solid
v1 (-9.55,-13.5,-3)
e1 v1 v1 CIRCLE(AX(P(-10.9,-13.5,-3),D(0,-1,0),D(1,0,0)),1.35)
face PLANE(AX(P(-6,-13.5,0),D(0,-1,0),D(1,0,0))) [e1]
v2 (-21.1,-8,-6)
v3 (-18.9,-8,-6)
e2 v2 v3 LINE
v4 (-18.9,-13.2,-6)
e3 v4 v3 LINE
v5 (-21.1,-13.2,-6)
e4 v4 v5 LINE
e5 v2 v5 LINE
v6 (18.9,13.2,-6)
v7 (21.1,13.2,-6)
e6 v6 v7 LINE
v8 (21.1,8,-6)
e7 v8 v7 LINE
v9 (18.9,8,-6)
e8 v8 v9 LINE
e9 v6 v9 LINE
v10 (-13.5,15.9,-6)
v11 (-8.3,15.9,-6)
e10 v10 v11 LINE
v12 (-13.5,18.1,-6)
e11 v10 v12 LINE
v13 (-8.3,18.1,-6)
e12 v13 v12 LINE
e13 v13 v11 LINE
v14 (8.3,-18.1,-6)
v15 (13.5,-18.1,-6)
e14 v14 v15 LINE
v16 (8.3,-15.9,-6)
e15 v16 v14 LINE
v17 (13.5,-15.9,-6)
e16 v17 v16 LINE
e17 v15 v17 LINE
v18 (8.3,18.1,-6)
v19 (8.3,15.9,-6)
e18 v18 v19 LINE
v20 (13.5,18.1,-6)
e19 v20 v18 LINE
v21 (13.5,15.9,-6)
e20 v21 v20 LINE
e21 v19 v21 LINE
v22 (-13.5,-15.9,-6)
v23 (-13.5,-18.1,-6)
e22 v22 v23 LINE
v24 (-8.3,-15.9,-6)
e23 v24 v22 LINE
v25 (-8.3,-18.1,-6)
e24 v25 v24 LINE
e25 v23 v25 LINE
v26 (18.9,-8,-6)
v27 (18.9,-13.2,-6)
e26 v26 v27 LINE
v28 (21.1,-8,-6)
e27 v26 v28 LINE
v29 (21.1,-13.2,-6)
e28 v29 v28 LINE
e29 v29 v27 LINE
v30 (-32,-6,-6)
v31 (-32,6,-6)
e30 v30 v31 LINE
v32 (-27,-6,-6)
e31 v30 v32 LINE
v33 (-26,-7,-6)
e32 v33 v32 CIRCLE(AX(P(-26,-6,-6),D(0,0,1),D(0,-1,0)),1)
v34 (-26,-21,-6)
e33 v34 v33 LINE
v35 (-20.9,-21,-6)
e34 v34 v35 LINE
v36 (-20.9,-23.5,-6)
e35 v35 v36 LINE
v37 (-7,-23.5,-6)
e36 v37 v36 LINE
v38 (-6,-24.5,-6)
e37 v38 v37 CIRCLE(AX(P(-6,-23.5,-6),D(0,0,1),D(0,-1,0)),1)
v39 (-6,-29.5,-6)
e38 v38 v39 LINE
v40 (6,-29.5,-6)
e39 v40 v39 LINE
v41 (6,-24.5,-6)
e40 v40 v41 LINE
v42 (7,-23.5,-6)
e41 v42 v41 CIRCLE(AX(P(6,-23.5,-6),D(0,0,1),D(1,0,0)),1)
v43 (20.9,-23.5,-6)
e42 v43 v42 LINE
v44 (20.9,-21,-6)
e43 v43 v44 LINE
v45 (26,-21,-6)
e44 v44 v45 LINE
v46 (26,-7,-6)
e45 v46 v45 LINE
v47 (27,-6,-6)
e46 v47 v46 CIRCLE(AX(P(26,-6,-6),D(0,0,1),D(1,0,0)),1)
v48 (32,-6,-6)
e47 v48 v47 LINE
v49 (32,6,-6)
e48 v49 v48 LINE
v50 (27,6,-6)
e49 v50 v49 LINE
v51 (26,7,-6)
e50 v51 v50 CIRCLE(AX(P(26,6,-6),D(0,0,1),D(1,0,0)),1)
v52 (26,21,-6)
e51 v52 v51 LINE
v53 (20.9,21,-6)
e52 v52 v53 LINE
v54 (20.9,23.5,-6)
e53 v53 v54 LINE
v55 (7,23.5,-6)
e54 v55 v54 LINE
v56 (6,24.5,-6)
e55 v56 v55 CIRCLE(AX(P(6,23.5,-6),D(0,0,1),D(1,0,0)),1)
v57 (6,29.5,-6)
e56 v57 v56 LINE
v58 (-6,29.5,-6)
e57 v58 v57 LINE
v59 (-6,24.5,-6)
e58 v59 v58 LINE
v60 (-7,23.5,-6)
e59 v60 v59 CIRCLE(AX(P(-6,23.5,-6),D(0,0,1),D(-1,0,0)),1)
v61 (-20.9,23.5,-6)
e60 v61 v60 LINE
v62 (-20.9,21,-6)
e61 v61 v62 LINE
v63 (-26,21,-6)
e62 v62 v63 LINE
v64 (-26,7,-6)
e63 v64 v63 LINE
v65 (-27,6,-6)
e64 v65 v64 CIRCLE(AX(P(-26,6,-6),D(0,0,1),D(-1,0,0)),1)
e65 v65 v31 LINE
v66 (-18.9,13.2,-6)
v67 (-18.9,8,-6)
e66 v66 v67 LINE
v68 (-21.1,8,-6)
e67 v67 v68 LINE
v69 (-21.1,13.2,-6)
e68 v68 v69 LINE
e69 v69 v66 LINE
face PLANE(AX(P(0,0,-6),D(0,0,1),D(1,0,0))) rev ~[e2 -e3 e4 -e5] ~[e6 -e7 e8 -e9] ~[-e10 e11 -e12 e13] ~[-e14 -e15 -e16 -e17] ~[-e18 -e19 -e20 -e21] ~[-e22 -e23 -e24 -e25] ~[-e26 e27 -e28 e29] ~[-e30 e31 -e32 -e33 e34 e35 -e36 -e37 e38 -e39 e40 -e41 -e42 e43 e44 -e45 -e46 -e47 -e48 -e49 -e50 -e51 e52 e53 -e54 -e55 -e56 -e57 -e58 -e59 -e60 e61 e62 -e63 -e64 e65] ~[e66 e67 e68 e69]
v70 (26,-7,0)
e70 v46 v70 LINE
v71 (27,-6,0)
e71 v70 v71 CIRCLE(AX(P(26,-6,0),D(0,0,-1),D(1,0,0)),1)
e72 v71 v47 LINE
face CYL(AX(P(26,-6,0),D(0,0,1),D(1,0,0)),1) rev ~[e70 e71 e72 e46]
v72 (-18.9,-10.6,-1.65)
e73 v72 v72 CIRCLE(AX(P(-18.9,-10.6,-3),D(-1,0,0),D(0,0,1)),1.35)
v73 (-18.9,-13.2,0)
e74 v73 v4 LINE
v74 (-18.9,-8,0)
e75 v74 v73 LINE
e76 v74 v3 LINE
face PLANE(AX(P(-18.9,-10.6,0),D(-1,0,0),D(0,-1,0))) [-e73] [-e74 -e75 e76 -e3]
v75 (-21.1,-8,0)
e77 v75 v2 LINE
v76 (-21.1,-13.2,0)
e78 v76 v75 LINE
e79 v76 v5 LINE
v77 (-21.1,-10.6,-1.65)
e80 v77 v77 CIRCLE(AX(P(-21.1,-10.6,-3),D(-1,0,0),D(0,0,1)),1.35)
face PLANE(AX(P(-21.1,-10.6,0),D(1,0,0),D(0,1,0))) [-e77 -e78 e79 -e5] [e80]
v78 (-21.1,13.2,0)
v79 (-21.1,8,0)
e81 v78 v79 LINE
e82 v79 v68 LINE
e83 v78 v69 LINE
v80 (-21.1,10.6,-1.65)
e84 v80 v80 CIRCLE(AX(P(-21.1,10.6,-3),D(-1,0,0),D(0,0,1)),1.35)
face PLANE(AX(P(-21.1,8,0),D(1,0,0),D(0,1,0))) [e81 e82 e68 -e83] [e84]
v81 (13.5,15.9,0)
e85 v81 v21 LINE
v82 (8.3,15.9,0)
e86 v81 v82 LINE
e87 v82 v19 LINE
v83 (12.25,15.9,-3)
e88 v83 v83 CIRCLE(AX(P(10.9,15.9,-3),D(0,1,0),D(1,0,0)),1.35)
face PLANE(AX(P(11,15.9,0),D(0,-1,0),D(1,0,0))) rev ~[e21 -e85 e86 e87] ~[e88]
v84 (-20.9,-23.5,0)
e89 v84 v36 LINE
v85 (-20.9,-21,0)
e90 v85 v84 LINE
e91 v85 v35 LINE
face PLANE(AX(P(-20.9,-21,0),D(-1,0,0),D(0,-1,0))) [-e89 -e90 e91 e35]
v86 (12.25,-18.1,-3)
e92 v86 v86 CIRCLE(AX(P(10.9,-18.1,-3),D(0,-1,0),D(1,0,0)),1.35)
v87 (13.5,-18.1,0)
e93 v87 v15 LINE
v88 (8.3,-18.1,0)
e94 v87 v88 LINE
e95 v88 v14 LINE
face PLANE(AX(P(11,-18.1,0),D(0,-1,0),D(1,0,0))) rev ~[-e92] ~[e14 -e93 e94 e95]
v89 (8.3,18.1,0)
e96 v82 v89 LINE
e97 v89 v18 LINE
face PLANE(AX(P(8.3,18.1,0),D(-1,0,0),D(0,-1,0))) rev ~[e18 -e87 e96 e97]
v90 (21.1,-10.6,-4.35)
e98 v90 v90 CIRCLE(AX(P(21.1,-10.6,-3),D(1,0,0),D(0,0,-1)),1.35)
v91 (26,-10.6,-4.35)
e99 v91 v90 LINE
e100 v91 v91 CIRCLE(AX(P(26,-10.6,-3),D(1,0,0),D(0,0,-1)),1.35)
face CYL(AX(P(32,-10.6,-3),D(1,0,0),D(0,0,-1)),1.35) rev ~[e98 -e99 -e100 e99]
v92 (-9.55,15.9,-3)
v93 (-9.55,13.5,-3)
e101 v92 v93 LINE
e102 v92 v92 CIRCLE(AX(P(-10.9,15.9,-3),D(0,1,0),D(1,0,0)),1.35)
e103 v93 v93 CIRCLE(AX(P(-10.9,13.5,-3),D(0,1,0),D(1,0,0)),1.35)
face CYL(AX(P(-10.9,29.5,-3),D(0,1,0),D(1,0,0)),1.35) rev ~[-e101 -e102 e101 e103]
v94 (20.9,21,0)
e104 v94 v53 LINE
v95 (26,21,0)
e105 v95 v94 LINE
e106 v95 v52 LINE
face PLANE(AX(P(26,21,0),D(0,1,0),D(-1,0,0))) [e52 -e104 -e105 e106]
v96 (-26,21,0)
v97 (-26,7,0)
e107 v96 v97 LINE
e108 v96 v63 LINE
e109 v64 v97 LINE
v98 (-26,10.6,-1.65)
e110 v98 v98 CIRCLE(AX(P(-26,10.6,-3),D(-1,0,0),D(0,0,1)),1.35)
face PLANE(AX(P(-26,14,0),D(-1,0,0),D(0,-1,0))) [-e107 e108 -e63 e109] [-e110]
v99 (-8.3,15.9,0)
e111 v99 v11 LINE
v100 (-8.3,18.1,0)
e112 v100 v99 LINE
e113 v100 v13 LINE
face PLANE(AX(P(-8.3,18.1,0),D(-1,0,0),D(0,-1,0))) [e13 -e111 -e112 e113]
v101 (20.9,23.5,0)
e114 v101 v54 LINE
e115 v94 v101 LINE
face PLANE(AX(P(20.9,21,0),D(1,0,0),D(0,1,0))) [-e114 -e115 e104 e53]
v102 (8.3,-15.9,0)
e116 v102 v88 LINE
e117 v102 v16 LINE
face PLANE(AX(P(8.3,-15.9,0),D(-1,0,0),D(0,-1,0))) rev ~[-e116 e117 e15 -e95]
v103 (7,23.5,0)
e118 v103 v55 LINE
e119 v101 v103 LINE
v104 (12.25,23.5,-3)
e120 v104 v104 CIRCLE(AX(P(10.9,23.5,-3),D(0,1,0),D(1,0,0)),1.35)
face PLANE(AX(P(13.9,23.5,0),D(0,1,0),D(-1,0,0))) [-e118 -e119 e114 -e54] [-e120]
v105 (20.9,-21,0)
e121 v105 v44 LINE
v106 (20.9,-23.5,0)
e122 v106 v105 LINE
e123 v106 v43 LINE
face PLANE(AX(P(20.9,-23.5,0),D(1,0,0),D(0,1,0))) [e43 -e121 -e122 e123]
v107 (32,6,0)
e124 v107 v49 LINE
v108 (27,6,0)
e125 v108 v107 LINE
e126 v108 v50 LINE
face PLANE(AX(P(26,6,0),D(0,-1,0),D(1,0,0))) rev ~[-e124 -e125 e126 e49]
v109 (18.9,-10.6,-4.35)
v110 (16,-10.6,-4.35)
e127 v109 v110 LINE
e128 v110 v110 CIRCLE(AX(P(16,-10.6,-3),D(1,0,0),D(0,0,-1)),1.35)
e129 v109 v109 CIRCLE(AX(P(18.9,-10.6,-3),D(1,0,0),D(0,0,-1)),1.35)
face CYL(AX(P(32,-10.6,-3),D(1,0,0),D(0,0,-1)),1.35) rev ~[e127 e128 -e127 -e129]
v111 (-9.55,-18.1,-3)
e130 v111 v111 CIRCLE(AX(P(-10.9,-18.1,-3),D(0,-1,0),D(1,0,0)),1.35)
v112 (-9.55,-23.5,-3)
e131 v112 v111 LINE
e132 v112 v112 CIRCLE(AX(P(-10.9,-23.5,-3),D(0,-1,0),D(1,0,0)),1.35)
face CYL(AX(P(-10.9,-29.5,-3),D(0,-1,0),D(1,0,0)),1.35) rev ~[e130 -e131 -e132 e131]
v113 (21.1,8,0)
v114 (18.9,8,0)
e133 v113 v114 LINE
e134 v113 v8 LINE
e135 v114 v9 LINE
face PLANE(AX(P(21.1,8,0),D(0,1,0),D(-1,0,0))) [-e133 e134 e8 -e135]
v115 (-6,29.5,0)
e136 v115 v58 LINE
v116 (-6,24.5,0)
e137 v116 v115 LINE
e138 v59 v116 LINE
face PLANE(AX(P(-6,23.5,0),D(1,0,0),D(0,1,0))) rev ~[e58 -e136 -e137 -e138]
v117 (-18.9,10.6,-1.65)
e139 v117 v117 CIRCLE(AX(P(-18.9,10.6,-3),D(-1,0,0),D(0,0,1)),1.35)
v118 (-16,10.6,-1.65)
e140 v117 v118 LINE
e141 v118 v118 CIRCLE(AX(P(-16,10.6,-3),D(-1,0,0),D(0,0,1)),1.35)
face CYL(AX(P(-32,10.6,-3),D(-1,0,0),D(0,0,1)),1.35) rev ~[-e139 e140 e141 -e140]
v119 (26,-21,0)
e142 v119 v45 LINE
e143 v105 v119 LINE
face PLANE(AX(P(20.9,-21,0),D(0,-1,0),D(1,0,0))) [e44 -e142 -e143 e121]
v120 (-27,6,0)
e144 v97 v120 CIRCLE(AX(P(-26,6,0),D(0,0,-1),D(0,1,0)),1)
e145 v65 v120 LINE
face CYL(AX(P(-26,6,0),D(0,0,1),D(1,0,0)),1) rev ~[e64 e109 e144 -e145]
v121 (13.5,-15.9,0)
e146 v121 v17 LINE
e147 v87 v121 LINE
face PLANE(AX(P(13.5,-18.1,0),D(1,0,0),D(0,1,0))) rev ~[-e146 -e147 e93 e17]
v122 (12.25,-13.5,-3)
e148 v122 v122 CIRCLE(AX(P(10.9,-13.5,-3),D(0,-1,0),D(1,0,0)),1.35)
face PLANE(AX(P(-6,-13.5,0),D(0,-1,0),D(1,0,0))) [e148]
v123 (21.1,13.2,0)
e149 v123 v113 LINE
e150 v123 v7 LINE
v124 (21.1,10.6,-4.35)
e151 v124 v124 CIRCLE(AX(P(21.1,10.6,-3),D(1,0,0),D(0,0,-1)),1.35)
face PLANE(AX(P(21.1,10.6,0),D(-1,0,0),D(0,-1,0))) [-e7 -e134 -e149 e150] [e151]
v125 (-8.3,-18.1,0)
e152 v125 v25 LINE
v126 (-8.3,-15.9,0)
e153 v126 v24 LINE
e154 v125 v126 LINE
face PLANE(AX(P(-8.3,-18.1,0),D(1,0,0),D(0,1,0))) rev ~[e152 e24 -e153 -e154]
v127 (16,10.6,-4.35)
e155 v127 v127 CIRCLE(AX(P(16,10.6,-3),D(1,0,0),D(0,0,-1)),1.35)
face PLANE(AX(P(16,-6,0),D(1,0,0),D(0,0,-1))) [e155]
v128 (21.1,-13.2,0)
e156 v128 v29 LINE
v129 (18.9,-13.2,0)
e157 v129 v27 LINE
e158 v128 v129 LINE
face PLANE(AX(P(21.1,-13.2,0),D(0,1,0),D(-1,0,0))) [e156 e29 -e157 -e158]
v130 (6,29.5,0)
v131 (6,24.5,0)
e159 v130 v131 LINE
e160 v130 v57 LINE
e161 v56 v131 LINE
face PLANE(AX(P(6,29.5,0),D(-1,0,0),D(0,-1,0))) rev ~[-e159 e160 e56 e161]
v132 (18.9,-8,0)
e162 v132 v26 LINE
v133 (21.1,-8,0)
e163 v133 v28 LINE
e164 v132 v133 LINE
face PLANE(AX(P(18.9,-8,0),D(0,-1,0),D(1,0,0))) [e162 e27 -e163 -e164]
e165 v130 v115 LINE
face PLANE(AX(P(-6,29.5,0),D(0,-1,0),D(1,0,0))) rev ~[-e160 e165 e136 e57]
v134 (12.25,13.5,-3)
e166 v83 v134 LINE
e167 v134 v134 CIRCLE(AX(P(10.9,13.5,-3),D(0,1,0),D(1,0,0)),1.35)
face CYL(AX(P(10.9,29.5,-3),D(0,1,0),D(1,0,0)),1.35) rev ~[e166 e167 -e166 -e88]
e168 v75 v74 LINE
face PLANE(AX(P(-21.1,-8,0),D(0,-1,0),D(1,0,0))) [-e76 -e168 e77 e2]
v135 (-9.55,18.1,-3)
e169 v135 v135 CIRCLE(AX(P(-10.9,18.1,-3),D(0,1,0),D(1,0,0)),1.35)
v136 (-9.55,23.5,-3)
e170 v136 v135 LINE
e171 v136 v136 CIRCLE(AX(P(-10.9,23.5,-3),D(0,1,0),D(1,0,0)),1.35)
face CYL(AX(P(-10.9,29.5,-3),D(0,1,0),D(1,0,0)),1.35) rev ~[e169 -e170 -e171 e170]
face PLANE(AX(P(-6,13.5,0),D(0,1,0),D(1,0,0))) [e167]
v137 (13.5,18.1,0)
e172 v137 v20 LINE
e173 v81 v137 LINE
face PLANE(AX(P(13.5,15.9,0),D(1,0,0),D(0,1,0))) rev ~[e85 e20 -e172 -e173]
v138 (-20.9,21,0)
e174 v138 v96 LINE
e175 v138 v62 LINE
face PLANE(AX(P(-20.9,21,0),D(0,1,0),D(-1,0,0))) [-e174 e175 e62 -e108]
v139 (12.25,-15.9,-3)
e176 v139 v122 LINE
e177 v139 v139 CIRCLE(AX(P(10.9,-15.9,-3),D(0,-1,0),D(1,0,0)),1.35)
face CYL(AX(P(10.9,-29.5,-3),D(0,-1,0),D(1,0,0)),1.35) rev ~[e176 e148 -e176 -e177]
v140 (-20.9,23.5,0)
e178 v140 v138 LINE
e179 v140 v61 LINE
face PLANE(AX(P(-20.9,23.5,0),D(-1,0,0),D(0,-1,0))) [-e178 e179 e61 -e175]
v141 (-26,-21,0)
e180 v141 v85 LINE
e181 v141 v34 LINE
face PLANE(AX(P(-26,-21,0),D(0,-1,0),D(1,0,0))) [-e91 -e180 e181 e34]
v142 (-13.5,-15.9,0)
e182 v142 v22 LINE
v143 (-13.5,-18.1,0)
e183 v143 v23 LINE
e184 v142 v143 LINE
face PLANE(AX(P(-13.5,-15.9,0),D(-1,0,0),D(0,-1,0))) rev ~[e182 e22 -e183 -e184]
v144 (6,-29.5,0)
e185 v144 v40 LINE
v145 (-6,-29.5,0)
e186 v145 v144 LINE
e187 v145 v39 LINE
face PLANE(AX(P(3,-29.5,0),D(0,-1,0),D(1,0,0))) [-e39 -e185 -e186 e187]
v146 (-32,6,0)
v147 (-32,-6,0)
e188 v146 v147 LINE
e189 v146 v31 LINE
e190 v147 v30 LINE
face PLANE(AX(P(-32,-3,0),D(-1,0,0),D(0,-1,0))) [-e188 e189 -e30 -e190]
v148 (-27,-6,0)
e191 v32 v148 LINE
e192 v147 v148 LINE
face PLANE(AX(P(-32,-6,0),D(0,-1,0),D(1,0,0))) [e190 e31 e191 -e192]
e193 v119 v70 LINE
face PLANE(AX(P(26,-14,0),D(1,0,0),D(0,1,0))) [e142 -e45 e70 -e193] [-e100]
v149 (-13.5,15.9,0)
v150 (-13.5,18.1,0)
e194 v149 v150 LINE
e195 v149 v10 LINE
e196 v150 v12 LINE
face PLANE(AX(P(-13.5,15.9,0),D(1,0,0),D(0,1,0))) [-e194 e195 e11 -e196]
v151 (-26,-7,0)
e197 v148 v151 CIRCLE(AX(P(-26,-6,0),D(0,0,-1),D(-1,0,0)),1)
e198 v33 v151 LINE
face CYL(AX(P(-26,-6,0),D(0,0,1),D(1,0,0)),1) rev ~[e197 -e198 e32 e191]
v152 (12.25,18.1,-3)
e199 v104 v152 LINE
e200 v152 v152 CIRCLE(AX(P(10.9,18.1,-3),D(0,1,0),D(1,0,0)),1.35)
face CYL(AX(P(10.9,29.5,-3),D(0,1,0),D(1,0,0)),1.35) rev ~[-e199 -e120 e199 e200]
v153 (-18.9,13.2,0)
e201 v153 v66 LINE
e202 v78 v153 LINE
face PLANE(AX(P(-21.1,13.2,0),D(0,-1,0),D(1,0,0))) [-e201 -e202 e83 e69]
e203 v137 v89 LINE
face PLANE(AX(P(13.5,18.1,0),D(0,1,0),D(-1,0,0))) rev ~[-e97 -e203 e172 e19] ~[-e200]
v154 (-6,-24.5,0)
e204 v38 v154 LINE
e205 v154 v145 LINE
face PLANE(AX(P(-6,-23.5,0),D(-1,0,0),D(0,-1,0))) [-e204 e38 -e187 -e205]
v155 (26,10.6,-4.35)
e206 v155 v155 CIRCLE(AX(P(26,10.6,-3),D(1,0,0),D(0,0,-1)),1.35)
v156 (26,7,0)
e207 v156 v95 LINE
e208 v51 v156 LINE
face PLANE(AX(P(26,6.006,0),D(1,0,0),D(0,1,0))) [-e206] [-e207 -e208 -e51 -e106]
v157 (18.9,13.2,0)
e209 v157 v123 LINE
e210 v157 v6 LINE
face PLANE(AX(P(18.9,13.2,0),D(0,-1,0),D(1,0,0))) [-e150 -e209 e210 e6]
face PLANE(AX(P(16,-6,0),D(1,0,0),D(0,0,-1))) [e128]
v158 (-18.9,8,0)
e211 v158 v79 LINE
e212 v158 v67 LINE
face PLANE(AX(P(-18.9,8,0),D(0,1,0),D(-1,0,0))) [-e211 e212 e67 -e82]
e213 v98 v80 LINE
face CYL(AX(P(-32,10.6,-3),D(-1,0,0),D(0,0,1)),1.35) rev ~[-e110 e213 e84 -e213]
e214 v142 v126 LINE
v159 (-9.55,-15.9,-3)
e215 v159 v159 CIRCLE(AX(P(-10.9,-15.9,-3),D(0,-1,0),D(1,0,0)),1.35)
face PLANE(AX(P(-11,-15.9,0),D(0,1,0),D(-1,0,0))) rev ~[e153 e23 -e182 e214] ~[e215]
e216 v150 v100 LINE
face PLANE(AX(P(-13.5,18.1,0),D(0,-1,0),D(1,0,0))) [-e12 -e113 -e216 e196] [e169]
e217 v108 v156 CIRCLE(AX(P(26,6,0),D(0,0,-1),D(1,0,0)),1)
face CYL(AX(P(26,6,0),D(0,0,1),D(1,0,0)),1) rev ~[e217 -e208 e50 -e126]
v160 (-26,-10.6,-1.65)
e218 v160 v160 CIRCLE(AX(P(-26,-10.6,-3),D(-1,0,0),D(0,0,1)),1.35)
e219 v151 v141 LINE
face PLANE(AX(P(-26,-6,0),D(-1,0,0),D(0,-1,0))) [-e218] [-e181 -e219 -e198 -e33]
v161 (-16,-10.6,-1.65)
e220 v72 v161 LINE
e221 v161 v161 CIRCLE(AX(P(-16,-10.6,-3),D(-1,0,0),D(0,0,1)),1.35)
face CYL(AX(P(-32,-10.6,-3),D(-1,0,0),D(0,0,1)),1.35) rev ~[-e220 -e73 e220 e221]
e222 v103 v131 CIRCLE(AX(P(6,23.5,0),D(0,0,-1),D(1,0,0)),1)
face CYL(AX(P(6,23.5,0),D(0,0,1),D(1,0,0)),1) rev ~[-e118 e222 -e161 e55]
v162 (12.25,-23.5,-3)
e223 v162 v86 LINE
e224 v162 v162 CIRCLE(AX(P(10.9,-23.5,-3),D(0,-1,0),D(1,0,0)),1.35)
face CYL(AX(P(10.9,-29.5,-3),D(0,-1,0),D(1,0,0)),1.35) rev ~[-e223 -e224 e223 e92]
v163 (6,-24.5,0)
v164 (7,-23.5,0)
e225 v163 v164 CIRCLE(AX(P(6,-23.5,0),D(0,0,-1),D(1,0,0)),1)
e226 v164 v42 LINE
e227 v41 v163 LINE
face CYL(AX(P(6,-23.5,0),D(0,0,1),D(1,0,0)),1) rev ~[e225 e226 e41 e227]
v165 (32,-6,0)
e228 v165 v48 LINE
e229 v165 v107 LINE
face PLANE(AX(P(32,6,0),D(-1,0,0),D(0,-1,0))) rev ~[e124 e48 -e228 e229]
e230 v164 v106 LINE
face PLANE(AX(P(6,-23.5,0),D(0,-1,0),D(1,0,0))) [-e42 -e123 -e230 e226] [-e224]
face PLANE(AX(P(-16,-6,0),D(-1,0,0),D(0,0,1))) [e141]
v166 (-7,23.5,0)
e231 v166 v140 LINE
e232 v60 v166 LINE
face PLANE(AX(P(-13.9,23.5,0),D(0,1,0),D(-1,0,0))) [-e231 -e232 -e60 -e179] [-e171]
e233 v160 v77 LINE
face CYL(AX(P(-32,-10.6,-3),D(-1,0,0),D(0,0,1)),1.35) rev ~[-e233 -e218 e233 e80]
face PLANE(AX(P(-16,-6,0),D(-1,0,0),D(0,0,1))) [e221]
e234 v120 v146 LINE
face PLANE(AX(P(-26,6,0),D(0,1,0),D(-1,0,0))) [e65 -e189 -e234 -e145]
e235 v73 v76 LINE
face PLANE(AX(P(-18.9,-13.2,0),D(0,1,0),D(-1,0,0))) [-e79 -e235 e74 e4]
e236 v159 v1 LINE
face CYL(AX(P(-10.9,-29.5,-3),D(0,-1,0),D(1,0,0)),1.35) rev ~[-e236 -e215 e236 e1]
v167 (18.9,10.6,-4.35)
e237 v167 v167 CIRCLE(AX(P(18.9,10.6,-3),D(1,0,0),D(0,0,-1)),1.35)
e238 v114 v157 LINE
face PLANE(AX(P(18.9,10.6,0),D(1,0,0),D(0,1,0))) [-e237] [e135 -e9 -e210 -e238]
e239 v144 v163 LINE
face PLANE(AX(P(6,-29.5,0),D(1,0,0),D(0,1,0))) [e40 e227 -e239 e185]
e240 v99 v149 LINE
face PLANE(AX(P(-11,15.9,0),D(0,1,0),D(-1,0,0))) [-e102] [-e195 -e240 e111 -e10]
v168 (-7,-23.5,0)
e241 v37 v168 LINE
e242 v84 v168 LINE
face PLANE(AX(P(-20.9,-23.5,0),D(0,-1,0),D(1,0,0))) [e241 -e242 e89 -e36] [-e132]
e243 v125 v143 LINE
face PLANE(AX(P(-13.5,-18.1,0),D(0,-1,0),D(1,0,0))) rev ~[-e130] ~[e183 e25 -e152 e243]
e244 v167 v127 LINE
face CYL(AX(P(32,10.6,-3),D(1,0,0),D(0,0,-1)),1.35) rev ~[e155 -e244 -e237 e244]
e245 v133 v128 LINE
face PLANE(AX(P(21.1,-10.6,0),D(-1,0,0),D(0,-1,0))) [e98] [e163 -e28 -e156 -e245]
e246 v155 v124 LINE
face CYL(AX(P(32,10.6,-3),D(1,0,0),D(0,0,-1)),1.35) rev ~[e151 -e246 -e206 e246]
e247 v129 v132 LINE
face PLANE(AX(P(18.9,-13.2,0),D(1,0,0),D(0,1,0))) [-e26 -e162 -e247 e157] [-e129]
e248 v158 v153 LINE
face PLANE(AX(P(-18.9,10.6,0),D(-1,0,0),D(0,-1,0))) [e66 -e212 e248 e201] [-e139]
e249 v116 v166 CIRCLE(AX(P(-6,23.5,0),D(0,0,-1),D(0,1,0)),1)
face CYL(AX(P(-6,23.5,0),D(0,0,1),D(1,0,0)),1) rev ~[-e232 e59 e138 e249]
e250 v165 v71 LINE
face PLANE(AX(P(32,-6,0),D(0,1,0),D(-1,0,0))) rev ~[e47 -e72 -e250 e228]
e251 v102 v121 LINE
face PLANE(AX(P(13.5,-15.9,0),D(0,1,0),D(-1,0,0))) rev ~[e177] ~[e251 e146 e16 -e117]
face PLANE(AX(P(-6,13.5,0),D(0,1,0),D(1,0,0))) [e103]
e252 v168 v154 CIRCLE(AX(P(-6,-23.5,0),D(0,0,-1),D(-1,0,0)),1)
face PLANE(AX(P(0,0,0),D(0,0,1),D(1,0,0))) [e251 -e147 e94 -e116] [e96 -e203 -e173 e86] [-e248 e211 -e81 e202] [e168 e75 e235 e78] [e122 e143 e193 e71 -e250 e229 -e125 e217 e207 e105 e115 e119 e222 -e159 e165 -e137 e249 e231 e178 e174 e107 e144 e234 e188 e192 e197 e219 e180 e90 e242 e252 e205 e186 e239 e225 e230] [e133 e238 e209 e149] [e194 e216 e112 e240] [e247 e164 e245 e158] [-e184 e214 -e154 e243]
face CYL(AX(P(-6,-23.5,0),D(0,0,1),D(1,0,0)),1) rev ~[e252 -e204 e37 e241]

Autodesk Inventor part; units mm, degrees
ref_plane "YZ Plane" through (0, 0, 0) normal (1, 0, 0) x (0, 1, 0)
ref_plane "XZ Plane" through (0, 0, 0) normal (0, 1, 0) x (-1, 0, 0)
ref_plane "XY Plane" through (0, 0, 0) normal (0, 0, 1) x (1, 0, 0)
ref_plane "작업 평면1" through (0, 0, 0) normal (0, 0, 1) x (1, 0, 0)
sketch "스케치1" plane through (0, 0, 0) normal (0, 0, 1) x (1, 0, 0)
  line L0 (-18.9, 5.4) -> (-21.1, 5.4) projected
  line L1 (-21.1, 5.4) -> (-21.1, 10.6) projected
  line L2 (-21.1, 10.6) -> (-18.9, 10.6) projected
  line L3 (-18.9, 10.6) -> (-18.9, 5.4) projected
  line L4 (-21.1, -5.4) -> (-18.9, -5.4) projected
  line L5 (-18.9, -5.4) -> (-18.9, -10.6) projected
  line L6 (-18.9, -10.6) -> (-21.1, -10.6) projected
  line L7 (-21.1, -10.6) -> (-21.1, -5.4) projected
  line L8 (21.1, 5.4) -> (18.9, 5.4) projected
  line L9 (18.9, 5.4) -> (18.9, 10.6) projected
  line L10 (18.9, 10.6) -> (21.1, 10.6) projected
  line L11 (21.1, 10.6) -> (21.1, 5.4) projected
  line L12 (18.9, -10.6) -> (18.9, -5.4) projected
  line L13 (18.9, -5.4) -> (21.1, -5.4) projected
  line L14 (21.1, -5.4) -> (21.1, -10.6) projected
  line L15 (21.1, -10.6) -> (18.9, -10.6) projected
  circle A0 centre (8, -8) radius 1.35 projected
  circle A1 centre (-8, 8) radius 1.35 projected
  circle A2 centre (-8, -8) radius 1.35 projected
  circle A3 centre (8, 8) radius 1.35 projected
  line L16 (-26, 14) -> (-26, 3) projected
  line L17 (-26, 3) -> (-32, 3) projected
  line L18 (-32, 3) -> (-32, -3) projected
  line L19 (-32, -3) -> (-26, -3) projected
  line L20 (-26, -3) -> (-26, -14) projected
  line L21 (-26, -14) -> (26, -14) projected
  line L22 (26, -14) -> (26, -3) projected
  line L23 (26, -3) -> (32, -3) projected
  line L24 (32, -3) -> (32, 3) projected
  line L25 (32, 3) -> (26, 3) projected
  line L26 (26, 3) -> (26, 14) projected
  line L27 (26, 14) -> (-26, 14) projected
  line L28 (-11, -15.5) -> (-5, -15.5) projected
  line L29 (-5, -15.5) -> (-5, -18.5) projected
  line L30 (-5, -18.5) -> (-11, -18.5) projected
  line L31 (-11, -18.5) -> (-11, -15.5) projected
  line L32 (-5, 15.5) -> (-11, 15.5) projected
  line L33 (-11, 15.5) -> (-11, 18.5) projected
  line L34 (-11, 18.5) -> (-5, 18.5) projected
  line L35 (-5, 18.5) -> (-5, 15.5) projected
  line L36 (11, -18.5) -> (5, -18.5) projected
  line L37 (5, -18.5) -> (5, -15.5) projected
  line L38 (5, -15.5) -> (11, -15.5) projected
  line L39 (11, -15.5) -> (11, -18.5) projected
  line L40 (11, 15.0547) -> (5, 15.0547) projected
  line L41 (5, 15.0547) -> (5, 18.0547) projected
  line L42 (5, 18.0547) -> (11, 18.0547) projected
  line L43 (11, 18.0547) -> (11, 15.0547) projected
  circle A4 centre (8, 8) radius 1.35 projected
  circle A5 centre (-8, -8) radius 1.35 projected
  circle A6 centre (-8, 8) radius 1.35 projected
  circle A7 centre (8, -8) radius 1.35 projected
  line L44 (13.9, 23.5) -> (3, 23.5) projected
  line L45 (3, 23.5) -> (3, 29.5) projected
  line L46 (3, 29.5) -> (-3, 29.5) projected
  line L47 (-3, 29.5) -> (-3, 23.5) projected
  line L48 (-3, 23.5) -> (-13.9, 23.5) projected
  line L49 (-13.9, 23.5) -> (-13.9, -23.5) projected
  line L50 (-13.9, -23.5) -> (-3, -23.5) projected
  line L51 (-3, -23.5) -> (-3, -29.5) projected
  line L52 (-3, -29.5) -> (3, -29.5) projected
  line L53 (3, -29.5) -> (3, -23.5) projected
  line L54 (3, -23.5) -> (13.9, -23.5) projected
  line L55 (13.9, -23.5) -> (13.9, 23.5) projected
  line L56 (13.9, 23.5) -> (-13.9, 23.5)
  line L57 (-13.9, -23.5) -> (13.9, -23.5)
  line L58 (-26, 14) -> (-26, -14)
  line L59 (26, -14) -> (26, 14)
  line L60 (-26, -14) -> (-26, -21)
  line L61 (26, -21) -> (26, -14)
  line L62 (26, 14) -> (26, 21)
  line L63 (-26, 21) -> (-26, 14)
  line L64 (13.9, -23.5) -> (20.9, -23.5)
  line L65 (20.9, 23.5) -> (13.9, 23.5)
  line L66 (-13.9, 23.5) -> (-20.9, 23.5)
  line L67 (-20.9, -23.5) -> (-13.9, -23.5)
  line L68 (26, 21) -> (20.9, 21)
  line L69 (-20.9, 21) -> (-26, 21)
  line L70 (-20.9, -21) -> (-20.9, -23.5)
  line L71 (-20.9, 23.5) -> (-20.9, 21)
  line L72 (20.9, -23.5) -> (20.9, -21)
  line L73 (20.9, 21) -> (20.9, 23.5)
  line L74 (-26, -21) -> (-20.9, -21)
  line L75 (20.9, -21) -> (26, -21)
  line L76 (26, -5.994) -> (26, 6.006)
  line L77 (6, -23.5) -> (-6, -23.5)
  line L78 (-6, -23.5) -> (-6, -29.5)
  line L79 (-6, -29.5) -> (6, -29.5)
  line L80 (6, -29.5) -> (6, -23.5)
  line L81 (6, 23.5) -> (-6, 23.5)
  line L82 (-6, 23.5) -> (-6, 29.5)
  line L83 (-6, 29.5) -> (6, 29.5)
  line L84 (6, 29.5) -> (6, 23.5)
  line L85 (-26, 6) -> (-32, 6)
  line L86 (-32, 6) -> (-32, -6)
  line L87 (-32, -6) -> (-26, -6)
  line L88 (-26, -6) -> (-26, 6)
  line L89 (13.5, 18.1) -> (8.3, 18.1)
  line L90 (8.3, 18.1) -> (8.3, 15.9)
  line L91 (8.3, 15.9) -> (13.5, 15.9)
  line L92 (13.5, 15.9) -> (13.5, 18.1)
  line L93 (13.5, 18.1) -> (8.3, 15.9) construction
  line L94 (8.3, 18.1) -> (13.5, 15.9) construction
  line L95 (-13.5, 18.1) -> (-8.3, 18.1)
  line L96 (-8.3, 18.1) -> (-8.3, 15.9)
  line L97 (-8.3, 15.9) -> (-13.5, 15.9)
  line L98 (-13.5, 15.9) -> (-13.5, 18.1)
  line L99 (-13.5, 18.1) -> (-8.3, 15.9) construction
  line L100 (-8.3, 18.1) -> (-13.5, 15.9) construction
  line L101 (-13.5, -18.1) -> (-8.3, -18.1)
  line L102 (-8.3, -18.1) -> (-8.3, -15.9)
  line L103 (-8.3, -15.9) -> (-13.5, -15.9)
  line L104 (-13.5, -15.9) -> (-13.5, -18.1)
  line L105 (-13.5, -18.1) -> (-8.3, -15.9) construction
  line L106 (-8.3, -18.1) -> (-13.5, -15.9) construction
  line L107 (13.5, -15.9) -> (8.3, -15.9)
  line L108 (8.3, -15.9) -> (8.3, -18.1)
  line L109 (8.3, -18.1) -> (13.5, -18.1)
  line L110 (13.5, -18.1) -> (13.5, -15.9)
  line L111 (13.5, -15.9) -> (8.3, -18.1) construction
  line L112 (8.3, -15.9) -> (13.5, -18.1) construction
  line L113 (-21.1, -8) -> (-18.9, -8)
  line L114 (-18.9, -8) -> (-18.9, -13.2)
  line L115 (-18.9, -13.2) -> (-21.1, -13.2)
  line L116 (-21.1, -13.2) -> (-21.1, -8)
  line L117 (-21.1, -8) -> (-18.9, -13.2) construction
  line L118 (-18.9, -8) -> (-21.1, -13.2) construction
  line L119 (-21.1, 13.2) -> (-18.9, 13.2)
  line L120 (-18.9, 13.2) -> (-18.9, 8)
  line L121 (-18.9, 8) -> (-21.1, 8)
  line L122 (-21.1, 8) -> (-21.1, 13.2)
  line L123 (-21.1, 13.2) -> (-18.9, 8) construction
  line L124 (-18.9, 13.2) -> (-21.1, 8) construction
  line L125 (26, -5.994) -> (26, 6.006)
  line L126 (26, 6) -> (32, 6)
  line L127 (32, 6) -> (32, -6)
  line L128 (32, -6) -> (26, -6)
  line L129 (26, -6) -> (26, 6)
  line L130 (18.9, -8) -> (21.1, -8)
  line L131 (21.1, -8) -> (21.1, -13.2)
  line L132 (21.1, -13.2) -> (18.9, -13.2)
  line L133 (18.9, -13.2) -> (18.9, -8)
  line L134 (18.9, -8) -> (21.1, -13.2) construction
  line L135 (21.1, -8) -> (18.9, -13.2) construction
  line L136 (18.9, 13.2) -> (21.1, 13.2)
  line L137 (21.1, 13.2) -> (21.1, 8)
  line L138 (21.1, 8) -> (18.9, 8)
  line L139 (18.9, 8) -> (18.9, 13.2)
  line L140 (18.9, 13.2) -> (21.1, 8) construction
  line L141 (21.1, 13.2) -> (18.9, 8) construction
  point P0 (0, 0)
  point P1 (10.9, 17)
  point P2 (-10.9, 17)
  point P3 (-10.9, -17)
  point P4 (10.9, -17)
  point P5 (-20, -10.6)
  point P6 (-20, 10.6)
  point P7 (8.3, 18.0547)
  point P8 (11, 15.9)
  point P9 (-13.9, -14)
  point P10 (13.9, -14)
  point P11 (20, -10.6)
  point P12 (20, 10.6)
  dimension "d0" = 7
  dimension "d1" = 7
  dimension "d2" = 7
  dimension "d5" = 12
  dimension "d6" = 6
  dimension "d7" = 12
  dimension "d8" = 6
  dimension "d9" = 12
  dimension "d31" = 5.2
  dimension "d33" = 5.2
  dimension "d34" = 2.2
  dimension "d35" = 5.2
  dimension "d36" = 2.2
  dimension "d37" = 5.2
  dimension "d38" = 2.2
  dimension "d41" = 2.2
  dimension "d42" = 5.2
  dimension "d44" = 2.2
  dimension "d45" = 5.2
  dimension "d69" = 12
  dimension "d70" = 5.2
  dimension "d71" = 2.2
  dimension "d72" = 5.2
extrude "돌출9" add sketch "스케치1" against normal blind 6 contours L0 L1 L121 L3 | L4 L5 L113 L7 | L8 L9 L138 L11 | L12 L13 L14 L130 | A0 | A1 | A2 | A3 | L27 L49 L21 L20 L58 L16 | L63 L69 L71 L66 L49 L27 | L16 L17 L86 L85 | L49 L48 L56 L44 L55 L27 | L27 L55 L21 L49 | L58 L19 L18 L17 | L55 L65 L73 L68 L62 L27 | L27 L26 L59 L22 L21 L55 | L49 L67 L70 L74 L60 L21 | L21 L55 L54 L57 L50 L49 | L20 L87 L86 L19 | L21 L61 L75 L72 L64 L55 | L82 L83 L47 L48 | L44 L45 L83 L84 | L47 L46 L45 L56 | L50 L51 L79 L78 | L126 L127 L25 L26 | L22 L23 L127 L128 | L80 L79 L53 L54 | L57 L53 L52 L51 | L25 L24 L23 L59 | L28 L29 L30 L31 L101 L102 L103 | L32 L33 L97 L96 L95 L34 L35 | L36 L37 L38 L39 L107 L108 L109 | L40 L41 L42 L90 L91 L43
sketch "스케치7" plane through (-32, -6, 0) normal (-1, 0, 0) x (0, 0, 1)
  line L0 (0, 19.2) -> (0, 14)
  circle A0 centre (-3, 16.6) radius 1.35
  line L1 (0, -2) -> (0, -7.2)
  circle A1 centre (-3, -4.6) radius 1.35
  point P0 (0, 6)
  dimension "d75" = 2.7
  dimension "d76" = 2.7
extrude "돌출10" cut sketch "스케치7" against normal blind 16
sketch "스케치8" plane through (32, -6, 0) normal (1, 0, 0) x (0, 0, -1)
  line L0 (6, 19.2) -> (6, 14)
  line L1 (6, -2) -> (6, -7.2)
  circle A0 centre (3, 16.6) radius 1.35
  circle A1 centre (3, -4.6) radius 1.35
  point P0 (0, 6)
  dimension "d79" = 2.7
  dimension "d80" = 2.7
extrude "돌출11" cut sketch "스케치8" against normal blind 16
sketch "스케치9" plane through (-6, -29.5, 0) normal (0, -1, 0) x (1, 0, 0)
  line L0 (19.5, -6) -> (14.3, -6)
  line L1 (-2.3, -6) -> (-7.5, -6)
  circle A0 centre (16.9, -3) radius 1.35
  circle A1 centre (-4.9, -3) radius 1.35
  point P0 (6, 0)
  dimension "d83" = 2.7
  dimension "d84" = 2.7
extrude "돌출12" cut sketch "스케치9" against normal blind 16
sketch "스케치10" plane through (-6, 29.5, 0) normal (0, 1, 0) x (1, 0, 0)
  line L0 (19.5, 0) -> (14.3, 0)
  line L1 (-2.3, 0) -> (-7.5, 0)
  circle A0 centre (-4.9, 3) radius 1.35
  circle A1 centre (16.9, 3) radius 1.35
  point P0 (6, 0)
  dimension "d87" = 2.7
  dimension "d88" = 2.7
extrude "돌출13" cut sketch "스케치10" against normal blind 16
sketch "스케치11" plane through (0, 0, 0) normal (0, 0, 1) x (1, 0, 0)
  line L0 (-6, -29.5) -> (6, -29.5) projected
  line L1 (6, -29.5) -> (6, -23.5) projected
  line L2 (6, -23.5) -> (20.9, -23.5) projected
  line L3 (20.9, -23.5) -> (20.9, -21) projected
  line L4 (20.9, -21) -> (26, -21) projected
  line L5 (26, -21) -> (26, -6) projected
  line L6 (26, -6) -> (32, -6) projected
  line L7 (32, -6) -> (32, 6) projected
  line L8 (32, 6) -> (26, 6) projected
  line L9 (26, 6) -> (26, 21) projected
  line L10 (26, 21) -> (20.9, 21) projected
  line L11 (20.9, 21) -> (20.9, 23.5) projected
  line L12 (20.9, 23.5) -> (6, 23.5) projected
  line L13 (6, 23.5) -> (6, 29.5) projected
  line L14 (6, 29.5) -> (-6, 29.5) projected
  line L15 (-6, 29.5) -> (-6, 23.5) projected
  line L16 (-6, 23.5) -> (-20.9, 23.5) projected
  line L17 (-20.9, 23.5) -> (-20.9, 21) projected
  line L18 (-20.9, 21) -> (-26, 21) projected
  line L19 (-26, 21) -> (-26, 6) projected
  line L20 (-26, 6) -> (-32, 6) projected
  line L21 (-32, 6) -> (-32, -6) projected
  line L22 (-32, -6) -> (-26, -6) projected
  line L23 (-26, -6) -> (-26, -21) projected
  line L24 (-26, -21) -> (-20.9, -21) projected
  line L25 (-20.9, -21) -> (-20.9, -23.5) projected
  line L26 (-20.9, -23.5) -> (-6, -23.5) projected
  line L27 (-6, -23.5) -> (-6, -29.5) projected
  line L28 (8.3, -15.9) -> (13.5, -15.9) projected
  line L29 (13.5, -15.9) -> (13.5, -18.1) projected
  line L30 (13.5, -18.1) -> (8.3, -18.1) projected
  line L31 (8.3, -18.1) -> (8.3, -15.9) projected
  line L32 (-8.3, -18.1) -> (-13.5, -18.1) projected
  line L33 (-13.5, -18.1) -> (-13.5, -15.9) projected
  line L34 (-13.5, -15.9) -> (-8.3, -15.9) projected
  line L35 (-8.3, -15.9) -> (-8.3, -18.1) projected
  line L36 (-18.9, -8) -> (-18.9, -13.2) projected
  line L37 (-18.9, -13.2) -> (-21.1, -13.2) projected
  line L38 (-21.1, -13.2) -> (-21.1, -8) projected
  line L39 (-21.1, -8) -> (-18.9, -8) projected
  line L40 (-21.1, 8) -> (-21.1, 13.2) projected
  line L41 (-21.1, 13.2) -> (-18.9, 13.2) projected
  line L42 (-18.9, 13.2) -> (-18.9, 8) projected
  line L43 (-18.9, 8) -> (-21.1, 8) projected
  line L44 (-8.3, 15.9) -> (-13.5, 15.9) projected
  line L45 (-13.5, 15.9) -> (-13.5, 18.1) projected
  line L46 (-13.5, 18.1) -> (-8.3, 18.1) projected
  line L47 (-8.3, 18.1) -> (-8.3, 15.9) projected
  line L48 (8.3, 15.9) -> (8.3, 18.1) projected
  line L49 (8.3, 18.1) -> (13.5, 18.1) projected
  line L50 (13.5, 18.1) -> (13.5, 15.9) projected
  line L51 (13.5, 15.9) -> (8.3, 15.9) projected
  line L52 (18.9, 8) -> (18.9, 13.2) projected
  line L53 (18.9, 13.2) -> (21.1, 13.2) projected
  line L54 (21.1, 13.2) -> (21.1, 8) projected
  line L55 (21.1, 8) -> (18.9, 8) projected
  line L56 (21.1, -8) -> (21.1, -13.2) projected
  line L57 (21.1, -13.2) -> (18.9, -13.2) projected
  line L58 (18.9, -13.2) -> (18.9, -8) projected
  line L59 (18.9, -8) -> (21.1, -8) projected
  circle A0 centre (26, 6) radius 1
  circle A1 centre (26, -6) radius 1
  circle A2 centre (6, -23.5) radius 1
  circle A3 centre (-6, -23.5) radius 1
  circle A4 centre (-26, -6) radius 1
  circle A5 centre (-26, 6) radius 1
  circle A6 centre (-6, 23.5) radius 1
  circle A7 centre (6, 23.5) radius 1
  point P0 (0, 0)
  dimension "d91" = 2
  dimension "d92" = 2
  dimension "d93" = 2
  dimension "d94" = 2
  dimension "d95" = 2
  dimension "d96" = 2
  dimension "d97" = 2
  dimension "d98" = 2
extrude "돌출14" cut sketch "스케치11" against normal blind 10 contours A3 L26 L27 | L27 L26 A3 | A2 L2 L1 | L1 L2 A2 | A4 L22 L23 | L23 L22 A4 | A1 L6 L5 | L5 L6 A1 | A5 L19 L20 | L20 L19 A5 | A0 L9 L8 | L8 L9 A0 | A6 L15 L16 | L16 L15 A6 | A7 L13 L12 | L12 L13 A7
properties part number "connection_leg_ver2" material "PMMA 플라스틱"
